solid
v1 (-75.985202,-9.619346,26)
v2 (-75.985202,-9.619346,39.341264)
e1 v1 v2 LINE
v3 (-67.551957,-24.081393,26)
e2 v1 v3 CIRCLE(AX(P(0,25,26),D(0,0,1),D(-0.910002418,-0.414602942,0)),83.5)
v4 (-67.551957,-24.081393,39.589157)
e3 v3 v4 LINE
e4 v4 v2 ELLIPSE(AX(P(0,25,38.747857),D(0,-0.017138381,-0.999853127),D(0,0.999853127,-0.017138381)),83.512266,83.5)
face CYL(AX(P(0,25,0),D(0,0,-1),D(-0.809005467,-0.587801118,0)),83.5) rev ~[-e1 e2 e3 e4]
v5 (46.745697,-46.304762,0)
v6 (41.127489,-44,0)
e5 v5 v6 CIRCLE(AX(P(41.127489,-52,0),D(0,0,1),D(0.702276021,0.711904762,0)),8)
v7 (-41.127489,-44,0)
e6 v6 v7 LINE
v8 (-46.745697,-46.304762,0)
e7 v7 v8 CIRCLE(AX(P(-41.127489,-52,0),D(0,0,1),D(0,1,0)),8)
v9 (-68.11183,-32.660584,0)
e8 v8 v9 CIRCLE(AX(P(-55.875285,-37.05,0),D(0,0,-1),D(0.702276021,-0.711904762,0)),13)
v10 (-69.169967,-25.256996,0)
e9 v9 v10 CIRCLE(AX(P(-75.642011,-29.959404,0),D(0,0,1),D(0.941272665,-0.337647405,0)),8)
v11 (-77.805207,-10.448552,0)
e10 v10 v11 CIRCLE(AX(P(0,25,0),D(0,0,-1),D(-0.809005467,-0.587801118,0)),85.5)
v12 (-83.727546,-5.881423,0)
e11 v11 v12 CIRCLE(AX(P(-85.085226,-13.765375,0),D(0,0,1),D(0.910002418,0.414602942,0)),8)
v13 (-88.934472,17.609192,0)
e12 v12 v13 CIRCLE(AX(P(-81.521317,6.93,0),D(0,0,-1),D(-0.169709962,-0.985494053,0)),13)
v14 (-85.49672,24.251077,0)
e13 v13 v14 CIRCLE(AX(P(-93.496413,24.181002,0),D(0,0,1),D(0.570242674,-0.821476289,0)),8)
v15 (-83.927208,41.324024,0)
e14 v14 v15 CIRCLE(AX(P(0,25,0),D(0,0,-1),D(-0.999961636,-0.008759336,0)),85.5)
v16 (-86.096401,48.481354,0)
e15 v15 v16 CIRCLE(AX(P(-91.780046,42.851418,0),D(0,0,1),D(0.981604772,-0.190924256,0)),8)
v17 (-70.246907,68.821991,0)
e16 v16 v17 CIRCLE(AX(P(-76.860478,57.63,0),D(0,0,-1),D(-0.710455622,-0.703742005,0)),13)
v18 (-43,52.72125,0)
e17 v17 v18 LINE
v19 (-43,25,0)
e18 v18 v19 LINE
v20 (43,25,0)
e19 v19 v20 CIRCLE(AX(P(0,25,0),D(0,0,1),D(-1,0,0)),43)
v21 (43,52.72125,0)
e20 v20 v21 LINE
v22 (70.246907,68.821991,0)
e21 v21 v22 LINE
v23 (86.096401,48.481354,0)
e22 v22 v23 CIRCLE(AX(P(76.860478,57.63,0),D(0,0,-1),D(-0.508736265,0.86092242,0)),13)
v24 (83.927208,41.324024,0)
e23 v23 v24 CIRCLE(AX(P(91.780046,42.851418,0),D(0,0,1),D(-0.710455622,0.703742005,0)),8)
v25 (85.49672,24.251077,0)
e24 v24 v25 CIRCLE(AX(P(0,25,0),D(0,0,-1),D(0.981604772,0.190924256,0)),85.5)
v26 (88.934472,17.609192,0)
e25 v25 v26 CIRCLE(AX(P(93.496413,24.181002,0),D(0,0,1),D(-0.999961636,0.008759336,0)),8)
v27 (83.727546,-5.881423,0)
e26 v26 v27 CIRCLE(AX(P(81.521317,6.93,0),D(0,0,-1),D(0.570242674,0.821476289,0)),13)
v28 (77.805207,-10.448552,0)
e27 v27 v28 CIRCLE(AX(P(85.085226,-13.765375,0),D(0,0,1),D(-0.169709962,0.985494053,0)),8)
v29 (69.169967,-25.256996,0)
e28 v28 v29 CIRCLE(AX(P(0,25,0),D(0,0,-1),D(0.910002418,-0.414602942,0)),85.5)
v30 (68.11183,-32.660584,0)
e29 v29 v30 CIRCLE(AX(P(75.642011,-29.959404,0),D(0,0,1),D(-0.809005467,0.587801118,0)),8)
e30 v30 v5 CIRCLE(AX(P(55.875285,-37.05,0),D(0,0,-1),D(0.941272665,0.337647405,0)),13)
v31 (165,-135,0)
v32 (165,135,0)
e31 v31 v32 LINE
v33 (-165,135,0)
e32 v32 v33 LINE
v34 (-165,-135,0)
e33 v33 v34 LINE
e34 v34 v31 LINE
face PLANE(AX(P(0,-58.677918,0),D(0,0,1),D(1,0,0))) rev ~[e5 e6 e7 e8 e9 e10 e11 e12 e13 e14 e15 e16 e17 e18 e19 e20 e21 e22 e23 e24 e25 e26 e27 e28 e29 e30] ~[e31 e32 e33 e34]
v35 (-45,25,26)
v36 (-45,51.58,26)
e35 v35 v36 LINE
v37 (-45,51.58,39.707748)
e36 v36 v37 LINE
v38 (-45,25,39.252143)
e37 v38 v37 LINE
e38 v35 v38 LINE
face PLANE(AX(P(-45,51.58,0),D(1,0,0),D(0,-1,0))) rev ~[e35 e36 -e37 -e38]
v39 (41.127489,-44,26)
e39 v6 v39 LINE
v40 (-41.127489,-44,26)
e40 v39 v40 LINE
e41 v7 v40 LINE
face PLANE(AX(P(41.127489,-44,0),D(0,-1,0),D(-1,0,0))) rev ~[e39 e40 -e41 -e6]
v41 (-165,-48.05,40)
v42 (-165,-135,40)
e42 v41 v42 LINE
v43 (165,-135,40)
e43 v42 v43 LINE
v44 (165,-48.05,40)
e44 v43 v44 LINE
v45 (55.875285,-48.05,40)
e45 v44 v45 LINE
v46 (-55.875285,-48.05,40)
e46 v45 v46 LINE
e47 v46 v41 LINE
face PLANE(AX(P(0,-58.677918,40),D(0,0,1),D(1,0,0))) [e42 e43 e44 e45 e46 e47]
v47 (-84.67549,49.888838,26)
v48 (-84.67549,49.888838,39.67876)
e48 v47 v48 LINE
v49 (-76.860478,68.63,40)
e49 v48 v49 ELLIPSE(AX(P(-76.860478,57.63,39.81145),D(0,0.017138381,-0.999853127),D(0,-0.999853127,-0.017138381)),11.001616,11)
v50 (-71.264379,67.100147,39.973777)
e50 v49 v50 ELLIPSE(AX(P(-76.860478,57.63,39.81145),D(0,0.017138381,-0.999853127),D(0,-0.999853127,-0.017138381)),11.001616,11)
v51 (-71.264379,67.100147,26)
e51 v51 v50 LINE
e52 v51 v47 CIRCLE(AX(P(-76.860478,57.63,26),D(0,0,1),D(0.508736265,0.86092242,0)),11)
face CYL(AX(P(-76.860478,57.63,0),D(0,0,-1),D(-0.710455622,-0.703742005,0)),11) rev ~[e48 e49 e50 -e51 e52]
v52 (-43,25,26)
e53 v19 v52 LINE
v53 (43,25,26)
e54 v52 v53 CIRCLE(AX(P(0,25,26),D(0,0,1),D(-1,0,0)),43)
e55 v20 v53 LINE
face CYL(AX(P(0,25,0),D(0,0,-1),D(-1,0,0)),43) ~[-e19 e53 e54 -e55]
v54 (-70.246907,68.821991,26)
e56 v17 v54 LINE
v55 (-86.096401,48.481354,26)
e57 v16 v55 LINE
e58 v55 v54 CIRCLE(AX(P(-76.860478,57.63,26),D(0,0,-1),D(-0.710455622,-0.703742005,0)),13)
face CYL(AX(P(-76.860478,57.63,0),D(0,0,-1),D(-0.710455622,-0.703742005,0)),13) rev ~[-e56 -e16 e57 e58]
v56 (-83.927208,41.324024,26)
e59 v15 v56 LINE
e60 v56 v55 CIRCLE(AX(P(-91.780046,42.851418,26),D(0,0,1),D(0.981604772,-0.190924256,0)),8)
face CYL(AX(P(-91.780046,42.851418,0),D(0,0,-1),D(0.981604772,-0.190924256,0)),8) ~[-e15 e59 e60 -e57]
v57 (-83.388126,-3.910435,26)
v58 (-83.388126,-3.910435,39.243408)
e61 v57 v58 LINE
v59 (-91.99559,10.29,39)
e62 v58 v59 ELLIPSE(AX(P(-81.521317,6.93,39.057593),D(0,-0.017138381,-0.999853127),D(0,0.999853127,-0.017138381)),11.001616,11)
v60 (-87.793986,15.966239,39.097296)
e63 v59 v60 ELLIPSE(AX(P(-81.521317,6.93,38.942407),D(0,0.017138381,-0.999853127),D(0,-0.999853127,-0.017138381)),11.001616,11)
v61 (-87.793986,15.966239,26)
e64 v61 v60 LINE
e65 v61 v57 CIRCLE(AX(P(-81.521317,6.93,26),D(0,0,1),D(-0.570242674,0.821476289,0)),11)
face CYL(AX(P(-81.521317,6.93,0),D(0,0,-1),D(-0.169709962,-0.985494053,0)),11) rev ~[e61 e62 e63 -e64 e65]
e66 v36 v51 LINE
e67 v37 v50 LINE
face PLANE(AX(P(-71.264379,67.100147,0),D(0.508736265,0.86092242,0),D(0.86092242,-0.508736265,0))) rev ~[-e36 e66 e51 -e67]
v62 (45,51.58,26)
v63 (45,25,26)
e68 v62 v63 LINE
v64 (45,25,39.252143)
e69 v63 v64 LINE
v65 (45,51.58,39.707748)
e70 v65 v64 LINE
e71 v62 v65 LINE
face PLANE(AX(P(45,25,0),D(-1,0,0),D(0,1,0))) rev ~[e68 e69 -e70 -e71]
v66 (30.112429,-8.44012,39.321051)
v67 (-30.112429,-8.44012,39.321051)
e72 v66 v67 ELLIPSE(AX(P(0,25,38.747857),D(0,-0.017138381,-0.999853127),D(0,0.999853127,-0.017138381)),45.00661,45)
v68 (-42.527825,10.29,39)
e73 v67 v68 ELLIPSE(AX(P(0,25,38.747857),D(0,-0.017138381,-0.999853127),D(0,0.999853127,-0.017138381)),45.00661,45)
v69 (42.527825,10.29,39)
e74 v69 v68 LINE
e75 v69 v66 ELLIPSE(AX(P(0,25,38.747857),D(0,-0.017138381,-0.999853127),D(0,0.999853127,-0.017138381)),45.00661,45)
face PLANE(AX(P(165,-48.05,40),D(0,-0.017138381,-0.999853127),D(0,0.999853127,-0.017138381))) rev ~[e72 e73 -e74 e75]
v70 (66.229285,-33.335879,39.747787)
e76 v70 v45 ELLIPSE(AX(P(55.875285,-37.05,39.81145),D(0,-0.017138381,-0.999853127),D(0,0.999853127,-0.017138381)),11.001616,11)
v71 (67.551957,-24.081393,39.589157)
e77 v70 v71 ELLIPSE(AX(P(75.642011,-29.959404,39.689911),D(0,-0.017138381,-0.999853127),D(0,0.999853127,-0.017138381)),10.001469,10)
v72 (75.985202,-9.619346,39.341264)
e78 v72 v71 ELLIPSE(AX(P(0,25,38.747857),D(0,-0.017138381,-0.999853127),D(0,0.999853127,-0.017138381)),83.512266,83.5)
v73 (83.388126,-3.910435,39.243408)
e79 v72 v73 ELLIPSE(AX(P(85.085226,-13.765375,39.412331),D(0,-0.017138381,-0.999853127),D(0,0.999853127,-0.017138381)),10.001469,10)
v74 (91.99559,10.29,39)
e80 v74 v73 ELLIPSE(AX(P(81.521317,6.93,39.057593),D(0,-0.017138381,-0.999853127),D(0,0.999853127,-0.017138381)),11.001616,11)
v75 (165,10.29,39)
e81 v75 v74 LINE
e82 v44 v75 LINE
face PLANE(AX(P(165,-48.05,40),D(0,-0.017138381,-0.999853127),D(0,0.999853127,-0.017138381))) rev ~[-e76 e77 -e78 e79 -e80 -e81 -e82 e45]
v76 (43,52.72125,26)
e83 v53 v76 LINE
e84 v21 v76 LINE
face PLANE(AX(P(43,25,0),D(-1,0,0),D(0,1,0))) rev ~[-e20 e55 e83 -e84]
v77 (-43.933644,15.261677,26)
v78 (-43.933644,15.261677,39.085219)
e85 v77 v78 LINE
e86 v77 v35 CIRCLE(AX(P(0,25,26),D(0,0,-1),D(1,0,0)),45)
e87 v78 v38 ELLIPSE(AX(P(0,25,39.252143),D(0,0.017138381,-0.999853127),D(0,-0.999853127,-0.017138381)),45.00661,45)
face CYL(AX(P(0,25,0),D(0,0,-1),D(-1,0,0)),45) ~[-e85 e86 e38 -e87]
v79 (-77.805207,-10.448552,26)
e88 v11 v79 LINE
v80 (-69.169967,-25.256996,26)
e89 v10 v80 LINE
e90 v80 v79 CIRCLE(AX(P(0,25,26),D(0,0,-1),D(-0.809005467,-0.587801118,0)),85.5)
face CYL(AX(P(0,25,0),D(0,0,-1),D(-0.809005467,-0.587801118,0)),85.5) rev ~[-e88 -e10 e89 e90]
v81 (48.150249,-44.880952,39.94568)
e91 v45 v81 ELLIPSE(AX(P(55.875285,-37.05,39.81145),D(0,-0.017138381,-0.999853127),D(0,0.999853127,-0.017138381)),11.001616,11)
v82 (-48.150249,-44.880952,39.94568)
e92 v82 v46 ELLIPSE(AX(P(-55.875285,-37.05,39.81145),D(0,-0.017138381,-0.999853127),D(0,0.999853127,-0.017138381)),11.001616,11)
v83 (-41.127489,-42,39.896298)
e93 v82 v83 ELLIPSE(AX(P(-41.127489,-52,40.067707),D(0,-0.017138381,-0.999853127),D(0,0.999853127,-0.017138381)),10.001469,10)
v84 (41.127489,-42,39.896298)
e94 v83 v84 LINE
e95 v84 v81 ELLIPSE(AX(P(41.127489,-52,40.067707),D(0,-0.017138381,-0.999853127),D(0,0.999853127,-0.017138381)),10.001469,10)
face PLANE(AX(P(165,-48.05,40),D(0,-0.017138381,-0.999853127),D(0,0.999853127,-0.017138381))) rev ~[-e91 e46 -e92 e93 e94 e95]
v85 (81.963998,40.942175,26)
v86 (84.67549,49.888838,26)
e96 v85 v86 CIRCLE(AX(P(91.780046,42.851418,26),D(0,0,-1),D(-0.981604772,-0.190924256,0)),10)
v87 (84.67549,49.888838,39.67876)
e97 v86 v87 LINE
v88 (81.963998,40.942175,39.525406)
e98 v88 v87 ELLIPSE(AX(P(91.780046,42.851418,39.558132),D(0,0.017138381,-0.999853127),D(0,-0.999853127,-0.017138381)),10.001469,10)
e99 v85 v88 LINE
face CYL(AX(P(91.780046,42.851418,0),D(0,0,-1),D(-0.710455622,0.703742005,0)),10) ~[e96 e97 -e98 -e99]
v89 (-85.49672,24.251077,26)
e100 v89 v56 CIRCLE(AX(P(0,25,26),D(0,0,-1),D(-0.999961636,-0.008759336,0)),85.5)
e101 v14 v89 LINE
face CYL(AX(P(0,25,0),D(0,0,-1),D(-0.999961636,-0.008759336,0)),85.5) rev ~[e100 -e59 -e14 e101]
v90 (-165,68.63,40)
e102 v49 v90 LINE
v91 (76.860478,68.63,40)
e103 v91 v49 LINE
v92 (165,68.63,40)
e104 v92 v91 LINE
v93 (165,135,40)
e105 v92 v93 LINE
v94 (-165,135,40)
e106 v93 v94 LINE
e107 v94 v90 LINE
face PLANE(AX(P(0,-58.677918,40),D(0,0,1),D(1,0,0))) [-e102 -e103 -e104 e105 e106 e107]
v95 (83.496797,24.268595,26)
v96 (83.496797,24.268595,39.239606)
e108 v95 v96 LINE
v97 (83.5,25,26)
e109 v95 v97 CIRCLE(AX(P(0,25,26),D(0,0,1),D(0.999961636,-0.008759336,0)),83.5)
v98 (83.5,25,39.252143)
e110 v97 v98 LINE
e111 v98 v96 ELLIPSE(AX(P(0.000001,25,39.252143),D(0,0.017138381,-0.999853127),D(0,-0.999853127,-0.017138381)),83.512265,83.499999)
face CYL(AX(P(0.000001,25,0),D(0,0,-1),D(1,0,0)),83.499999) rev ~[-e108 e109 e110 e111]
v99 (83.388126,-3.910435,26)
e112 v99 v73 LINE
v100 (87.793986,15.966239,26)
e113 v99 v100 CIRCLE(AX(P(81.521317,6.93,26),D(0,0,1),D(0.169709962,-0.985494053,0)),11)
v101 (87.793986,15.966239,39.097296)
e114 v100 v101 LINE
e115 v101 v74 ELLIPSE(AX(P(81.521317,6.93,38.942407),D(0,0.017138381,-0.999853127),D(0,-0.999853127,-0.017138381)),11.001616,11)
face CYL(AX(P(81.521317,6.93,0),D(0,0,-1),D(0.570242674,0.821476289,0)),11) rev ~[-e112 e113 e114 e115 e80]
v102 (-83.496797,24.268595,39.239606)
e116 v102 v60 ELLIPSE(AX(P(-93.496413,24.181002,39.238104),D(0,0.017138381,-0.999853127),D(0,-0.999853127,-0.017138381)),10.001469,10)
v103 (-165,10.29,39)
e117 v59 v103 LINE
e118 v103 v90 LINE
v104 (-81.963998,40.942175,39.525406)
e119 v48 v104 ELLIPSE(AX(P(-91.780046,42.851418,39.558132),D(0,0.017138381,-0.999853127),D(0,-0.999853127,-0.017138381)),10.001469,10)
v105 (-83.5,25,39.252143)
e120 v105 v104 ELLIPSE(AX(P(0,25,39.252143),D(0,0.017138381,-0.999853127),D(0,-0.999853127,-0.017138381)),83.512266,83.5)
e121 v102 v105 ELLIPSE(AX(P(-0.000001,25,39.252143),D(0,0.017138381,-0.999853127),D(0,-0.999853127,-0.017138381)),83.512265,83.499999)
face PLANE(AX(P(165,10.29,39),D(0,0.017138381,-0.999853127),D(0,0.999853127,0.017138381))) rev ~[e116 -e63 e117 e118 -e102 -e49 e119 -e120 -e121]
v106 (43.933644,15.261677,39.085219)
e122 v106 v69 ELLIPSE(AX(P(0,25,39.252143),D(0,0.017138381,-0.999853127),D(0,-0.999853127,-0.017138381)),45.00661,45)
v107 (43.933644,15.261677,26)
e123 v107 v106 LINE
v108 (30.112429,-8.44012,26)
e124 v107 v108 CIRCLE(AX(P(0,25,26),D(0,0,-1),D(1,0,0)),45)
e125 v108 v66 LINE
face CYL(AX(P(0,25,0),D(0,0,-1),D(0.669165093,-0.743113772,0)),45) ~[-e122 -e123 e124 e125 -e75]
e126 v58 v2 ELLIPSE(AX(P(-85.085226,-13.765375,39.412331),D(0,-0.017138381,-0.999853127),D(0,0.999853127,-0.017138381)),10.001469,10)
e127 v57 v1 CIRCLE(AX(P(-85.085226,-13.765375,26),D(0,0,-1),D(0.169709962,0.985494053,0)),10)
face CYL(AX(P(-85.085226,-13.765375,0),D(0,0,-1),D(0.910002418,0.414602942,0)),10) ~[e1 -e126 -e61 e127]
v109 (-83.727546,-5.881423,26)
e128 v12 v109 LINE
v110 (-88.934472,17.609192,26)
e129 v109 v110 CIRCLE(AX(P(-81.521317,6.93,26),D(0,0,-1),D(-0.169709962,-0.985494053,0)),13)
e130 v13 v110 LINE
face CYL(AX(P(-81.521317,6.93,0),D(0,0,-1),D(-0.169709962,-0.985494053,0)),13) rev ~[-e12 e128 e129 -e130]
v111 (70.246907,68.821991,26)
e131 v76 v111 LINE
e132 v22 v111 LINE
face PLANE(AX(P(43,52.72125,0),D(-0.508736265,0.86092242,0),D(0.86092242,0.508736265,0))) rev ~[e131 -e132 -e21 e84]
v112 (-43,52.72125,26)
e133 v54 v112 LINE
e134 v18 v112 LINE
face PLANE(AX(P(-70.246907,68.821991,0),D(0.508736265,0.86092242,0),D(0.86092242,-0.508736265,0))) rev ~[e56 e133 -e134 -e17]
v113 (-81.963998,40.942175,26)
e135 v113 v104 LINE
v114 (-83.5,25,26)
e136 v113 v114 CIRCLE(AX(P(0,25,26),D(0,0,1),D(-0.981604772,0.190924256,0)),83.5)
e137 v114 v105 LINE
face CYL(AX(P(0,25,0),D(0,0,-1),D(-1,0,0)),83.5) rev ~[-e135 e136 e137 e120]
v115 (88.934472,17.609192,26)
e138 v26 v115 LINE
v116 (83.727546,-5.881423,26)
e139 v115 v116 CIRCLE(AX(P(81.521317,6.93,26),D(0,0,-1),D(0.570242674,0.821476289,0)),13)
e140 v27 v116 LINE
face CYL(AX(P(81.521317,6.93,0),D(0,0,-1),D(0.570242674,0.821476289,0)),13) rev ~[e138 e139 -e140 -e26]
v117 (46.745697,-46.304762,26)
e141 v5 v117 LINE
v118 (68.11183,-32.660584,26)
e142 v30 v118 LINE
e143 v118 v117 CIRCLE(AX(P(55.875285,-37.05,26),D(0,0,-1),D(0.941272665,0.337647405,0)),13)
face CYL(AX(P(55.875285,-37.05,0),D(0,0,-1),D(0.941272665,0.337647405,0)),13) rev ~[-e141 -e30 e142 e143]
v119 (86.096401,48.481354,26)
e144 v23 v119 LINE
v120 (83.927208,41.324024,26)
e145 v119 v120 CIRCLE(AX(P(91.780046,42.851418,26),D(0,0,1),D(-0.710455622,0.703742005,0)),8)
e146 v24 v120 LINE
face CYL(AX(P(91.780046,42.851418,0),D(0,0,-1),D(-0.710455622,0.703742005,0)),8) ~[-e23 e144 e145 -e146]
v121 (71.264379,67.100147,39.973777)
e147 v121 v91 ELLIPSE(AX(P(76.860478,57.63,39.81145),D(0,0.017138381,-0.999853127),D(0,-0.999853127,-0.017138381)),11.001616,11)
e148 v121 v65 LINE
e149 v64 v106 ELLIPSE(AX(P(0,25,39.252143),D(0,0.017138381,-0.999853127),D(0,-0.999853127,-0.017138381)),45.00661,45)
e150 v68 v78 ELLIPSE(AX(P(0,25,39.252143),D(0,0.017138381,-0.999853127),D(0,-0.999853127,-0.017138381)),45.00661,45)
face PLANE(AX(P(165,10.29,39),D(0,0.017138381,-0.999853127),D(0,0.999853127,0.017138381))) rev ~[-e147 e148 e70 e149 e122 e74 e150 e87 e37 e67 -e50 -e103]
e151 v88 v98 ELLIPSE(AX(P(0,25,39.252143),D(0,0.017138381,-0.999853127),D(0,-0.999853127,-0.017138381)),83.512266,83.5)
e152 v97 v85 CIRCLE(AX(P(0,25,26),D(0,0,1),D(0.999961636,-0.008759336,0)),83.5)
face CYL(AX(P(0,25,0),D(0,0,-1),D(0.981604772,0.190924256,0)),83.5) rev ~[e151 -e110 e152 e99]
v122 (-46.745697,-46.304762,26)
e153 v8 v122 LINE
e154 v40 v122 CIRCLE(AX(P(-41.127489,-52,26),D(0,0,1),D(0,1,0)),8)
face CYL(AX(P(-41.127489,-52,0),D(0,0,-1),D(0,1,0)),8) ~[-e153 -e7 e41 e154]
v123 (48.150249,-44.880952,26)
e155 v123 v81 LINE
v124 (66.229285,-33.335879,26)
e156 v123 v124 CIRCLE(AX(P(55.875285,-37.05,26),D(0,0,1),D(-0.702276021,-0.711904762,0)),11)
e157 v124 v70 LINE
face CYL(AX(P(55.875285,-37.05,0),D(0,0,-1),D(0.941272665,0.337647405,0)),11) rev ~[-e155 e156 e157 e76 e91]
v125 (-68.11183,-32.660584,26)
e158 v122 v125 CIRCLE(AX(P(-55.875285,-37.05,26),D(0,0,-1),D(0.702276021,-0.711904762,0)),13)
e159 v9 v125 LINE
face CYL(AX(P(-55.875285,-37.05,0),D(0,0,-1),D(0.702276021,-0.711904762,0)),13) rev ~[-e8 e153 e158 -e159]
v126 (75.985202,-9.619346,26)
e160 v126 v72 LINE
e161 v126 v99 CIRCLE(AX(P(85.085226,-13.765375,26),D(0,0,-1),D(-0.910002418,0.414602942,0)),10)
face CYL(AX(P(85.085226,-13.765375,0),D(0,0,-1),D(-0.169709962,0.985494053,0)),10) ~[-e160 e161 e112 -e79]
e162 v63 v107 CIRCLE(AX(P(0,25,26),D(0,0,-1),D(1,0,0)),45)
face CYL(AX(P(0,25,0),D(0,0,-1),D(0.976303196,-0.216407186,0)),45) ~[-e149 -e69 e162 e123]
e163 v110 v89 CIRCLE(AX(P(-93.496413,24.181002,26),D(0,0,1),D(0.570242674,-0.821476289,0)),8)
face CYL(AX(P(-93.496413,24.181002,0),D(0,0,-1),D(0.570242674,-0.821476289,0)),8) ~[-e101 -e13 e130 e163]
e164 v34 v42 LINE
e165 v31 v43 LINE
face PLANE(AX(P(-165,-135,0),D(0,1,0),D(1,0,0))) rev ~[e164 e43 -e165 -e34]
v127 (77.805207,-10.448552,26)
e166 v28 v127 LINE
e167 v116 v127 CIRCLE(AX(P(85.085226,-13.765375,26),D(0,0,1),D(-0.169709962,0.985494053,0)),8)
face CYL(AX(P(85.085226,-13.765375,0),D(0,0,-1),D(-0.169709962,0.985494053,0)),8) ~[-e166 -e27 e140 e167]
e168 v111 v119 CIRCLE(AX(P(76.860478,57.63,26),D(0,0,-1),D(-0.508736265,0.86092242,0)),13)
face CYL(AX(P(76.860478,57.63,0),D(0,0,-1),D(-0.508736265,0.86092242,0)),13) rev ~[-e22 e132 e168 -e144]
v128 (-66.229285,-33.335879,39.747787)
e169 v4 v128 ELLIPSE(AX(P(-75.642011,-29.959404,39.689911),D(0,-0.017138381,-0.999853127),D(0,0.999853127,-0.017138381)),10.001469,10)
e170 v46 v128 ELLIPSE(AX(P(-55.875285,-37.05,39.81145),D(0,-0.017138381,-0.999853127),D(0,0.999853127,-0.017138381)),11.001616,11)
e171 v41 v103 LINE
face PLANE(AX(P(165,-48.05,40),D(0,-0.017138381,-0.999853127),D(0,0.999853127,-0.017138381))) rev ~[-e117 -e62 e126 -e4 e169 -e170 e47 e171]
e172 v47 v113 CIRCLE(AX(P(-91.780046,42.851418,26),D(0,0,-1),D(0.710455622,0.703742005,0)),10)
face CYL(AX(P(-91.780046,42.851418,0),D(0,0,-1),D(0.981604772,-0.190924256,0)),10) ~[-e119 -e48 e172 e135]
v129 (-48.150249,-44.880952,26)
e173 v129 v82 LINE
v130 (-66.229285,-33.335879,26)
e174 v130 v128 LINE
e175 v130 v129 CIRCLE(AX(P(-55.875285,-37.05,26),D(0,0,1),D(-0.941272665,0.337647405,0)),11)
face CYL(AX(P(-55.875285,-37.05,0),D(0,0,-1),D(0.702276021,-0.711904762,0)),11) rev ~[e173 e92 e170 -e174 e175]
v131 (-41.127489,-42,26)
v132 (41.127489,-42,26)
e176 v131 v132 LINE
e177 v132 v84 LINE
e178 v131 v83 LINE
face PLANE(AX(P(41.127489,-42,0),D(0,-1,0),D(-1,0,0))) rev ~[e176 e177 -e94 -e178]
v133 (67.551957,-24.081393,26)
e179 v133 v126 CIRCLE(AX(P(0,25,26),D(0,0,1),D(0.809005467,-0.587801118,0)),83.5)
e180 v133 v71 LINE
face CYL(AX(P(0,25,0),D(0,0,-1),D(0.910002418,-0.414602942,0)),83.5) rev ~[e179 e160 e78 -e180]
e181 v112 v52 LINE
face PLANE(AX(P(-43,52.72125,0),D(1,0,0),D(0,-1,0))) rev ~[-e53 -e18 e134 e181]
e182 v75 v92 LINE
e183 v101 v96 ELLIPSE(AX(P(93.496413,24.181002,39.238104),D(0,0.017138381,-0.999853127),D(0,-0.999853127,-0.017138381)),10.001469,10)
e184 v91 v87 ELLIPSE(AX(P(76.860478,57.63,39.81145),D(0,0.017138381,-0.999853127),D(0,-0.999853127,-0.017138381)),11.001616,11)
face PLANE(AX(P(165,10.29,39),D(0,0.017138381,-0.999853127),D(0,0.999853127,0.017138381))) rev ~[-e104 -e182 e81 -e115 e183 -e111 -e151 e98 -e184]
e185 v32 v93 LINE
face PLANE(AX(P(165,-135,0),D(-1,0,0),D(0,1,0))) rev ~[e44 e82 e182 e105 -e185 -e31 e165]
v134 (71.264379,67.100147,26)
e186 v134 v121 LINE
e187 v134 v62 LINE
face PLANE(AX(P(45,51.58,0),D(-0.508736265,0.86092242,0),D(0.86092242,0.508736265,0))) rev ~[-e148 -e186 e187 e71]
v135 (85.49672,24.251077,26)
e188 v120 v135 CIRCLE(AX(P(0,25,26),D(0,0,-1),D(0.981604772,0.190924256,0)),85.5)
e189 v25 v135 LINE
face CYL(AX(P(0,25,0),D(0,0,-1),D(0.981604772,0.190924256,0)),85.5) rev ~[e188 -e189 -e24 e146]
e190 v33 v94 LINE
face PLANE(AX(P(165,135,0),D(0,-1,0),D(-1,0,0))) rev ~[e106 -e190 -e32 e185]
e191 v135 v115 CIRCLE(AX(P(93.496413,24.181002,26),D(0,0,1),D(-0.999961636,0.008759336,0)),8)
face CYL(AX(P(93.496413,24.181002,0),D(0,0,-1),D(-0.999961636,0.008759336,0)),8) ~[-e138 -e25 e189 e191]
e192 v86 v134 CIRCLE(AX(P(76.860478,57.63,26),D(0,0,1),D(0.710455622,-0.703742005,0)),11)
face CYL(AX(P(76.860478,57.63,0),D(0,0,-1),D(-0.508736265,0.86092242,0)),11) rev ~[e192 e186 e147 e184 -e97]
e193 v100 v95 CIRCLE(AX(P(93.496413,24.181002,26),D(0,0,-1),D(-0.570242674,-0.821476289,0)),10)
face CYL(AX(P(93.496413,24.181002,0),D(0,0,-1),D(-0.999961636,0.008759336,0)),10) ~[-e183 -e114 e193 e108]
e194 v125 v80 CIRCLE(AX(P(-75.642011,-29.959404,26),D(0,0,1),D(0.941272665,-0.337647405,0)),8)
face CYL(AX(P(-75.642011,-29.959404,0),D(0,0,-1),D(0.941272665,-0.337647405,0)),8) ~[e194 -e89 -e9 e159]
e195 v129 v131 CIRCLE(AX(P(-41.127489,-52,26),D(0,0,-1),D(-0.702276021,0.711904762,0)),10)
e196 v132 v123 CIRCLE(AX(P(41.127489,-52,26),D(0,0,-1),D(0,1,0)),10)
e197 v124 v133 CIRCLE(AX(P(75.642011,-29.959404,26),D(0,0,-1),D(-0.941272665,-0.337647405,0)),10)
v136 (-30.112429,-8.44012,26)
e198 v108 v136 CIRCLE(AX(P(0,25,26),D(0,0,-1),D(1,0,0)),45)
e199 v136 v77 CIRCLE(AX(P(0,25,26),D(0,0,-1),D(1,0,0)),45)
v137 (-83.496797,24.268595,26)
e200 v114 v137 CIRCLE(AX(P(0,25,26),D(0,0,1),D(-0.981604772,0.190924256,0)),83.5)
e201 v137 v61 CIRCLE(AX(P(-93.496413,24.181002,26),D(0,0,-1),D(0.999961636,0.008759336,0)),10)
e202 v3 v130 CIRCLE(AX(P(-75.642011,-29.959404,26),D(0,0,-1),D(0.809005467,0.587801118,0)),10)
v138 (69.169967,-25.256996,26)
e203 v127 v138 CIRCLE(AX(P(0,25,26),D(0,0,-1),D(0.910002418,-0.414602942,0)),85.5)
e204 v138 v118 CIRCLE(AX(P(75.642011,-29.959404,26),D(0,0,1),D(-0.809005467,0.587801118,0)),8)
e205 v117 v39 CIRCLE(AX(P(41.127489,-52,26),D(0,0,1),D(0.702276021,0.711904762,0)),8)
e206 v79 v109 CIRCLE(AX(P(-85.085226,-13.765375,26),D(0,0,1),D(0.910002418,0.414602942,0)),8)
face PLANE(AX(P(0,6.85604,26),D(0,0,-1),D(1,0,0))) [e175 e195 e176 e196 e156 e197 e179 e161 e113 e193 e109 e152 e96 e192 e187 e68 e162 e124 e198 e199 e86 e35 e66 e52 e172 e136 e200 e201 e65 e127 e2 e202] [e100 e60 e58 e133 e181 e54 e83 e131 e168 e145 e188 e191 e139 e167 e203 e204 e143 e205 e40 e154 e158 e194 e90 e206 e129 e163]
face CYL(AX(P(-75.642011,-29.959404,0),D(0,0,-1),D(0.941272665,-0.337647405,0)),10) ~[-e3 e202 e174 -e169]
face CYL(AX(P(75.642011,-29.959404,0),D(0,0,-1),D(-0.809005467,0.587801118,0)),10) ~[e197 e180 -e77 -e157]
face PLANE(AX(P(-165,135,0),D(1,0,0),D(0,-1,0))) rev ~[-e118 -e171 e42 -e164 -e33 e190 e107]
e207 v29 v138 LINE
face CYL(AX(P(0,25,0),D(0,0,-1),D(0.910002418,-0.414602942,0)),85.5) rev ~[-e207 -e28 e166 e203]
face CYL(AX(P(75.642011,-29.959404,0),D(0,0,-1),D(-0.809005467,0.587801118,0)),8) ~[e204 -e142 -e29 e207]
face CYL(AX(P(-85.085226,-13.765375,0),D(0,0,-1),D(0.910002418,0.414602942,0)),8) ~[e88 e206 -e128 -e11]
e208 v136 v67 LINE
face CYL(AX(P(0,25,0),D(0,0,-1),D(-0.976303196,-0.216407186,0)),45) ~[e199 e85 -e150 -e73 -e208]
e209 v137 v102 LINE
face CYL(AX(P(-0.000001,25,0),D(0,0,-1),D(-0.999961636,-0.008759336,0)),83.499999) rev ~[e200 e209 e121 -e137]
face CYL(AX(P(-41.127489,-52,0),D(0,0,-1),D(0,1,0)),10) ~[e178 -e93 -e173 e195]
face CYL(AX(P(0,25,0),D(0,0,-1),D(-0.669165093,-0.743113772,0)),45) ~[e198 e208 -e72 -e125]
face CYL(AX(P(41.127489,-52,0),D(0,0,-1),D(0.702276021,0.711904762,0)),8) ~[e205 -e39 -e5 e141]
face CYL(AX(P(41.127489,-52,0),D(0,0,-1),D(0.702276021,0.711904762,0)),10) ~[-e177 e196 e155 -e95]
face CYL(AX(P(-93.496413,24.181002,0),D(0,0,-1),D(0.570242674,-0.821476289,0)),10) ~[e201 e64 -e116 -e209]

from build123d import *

# Parameters (mm, degrees)
F1_DEPTH = 40
F3_DEPTH = 26
F6_DEPTH = 376


with BuildPart() as f1:
    # F0 (on Top) → F1 (new body)
    with BuildSketch(Plane.XY):
        with BuildLine():
            Line((165, -135), (165, 25))
            Line((165, 25), (83.5, 25))
            ThreePointArc((83.5, 25), (83.4991991535, 24.6342942061), (83.4967966293, 24.2685954271))
            ThreePointArc((83.4967966293, 24.2685954271), (84.6154885355, 19.5843531992), (87.7939862549, 15.9662391769))
            ThreePointArc((87.7939862549, 15.9662391769), (92.2606519972, 4.5495209581), (83.3881264287, -3.9104345842))
            ThreePointArc((83.3881264287, -3.9104345842), (78.9784767448, -5.8465612578), (75.9852018745, -9.6193456912))
            ThreePointArc((75.9852018745, -9.6193456912), (72.1319392895, -17.0622554594), (67.5519565242, -24.0813933151))
            ThreePointArc((67.5519565242, -24.0813933151), (65.7426065331, -28.544559169), (66.2292845484, -33.3358785427))
            ThreePointArc((66.2292845484, -33.3358785427), (61.7955930136, -46.3209199003), (48.1502490008, -44.880952381))
            ThreePointArc((48.1502490008, -44.880952381), (44.922849365, -42.7482305425), (41.1274887886, -42))
            Line((41.1274887886, -42), (-41.1274887886, -42))
            ThreePointArc((-41.1274887886, -42), (-44.922849365, -42.7482305425), (-48.1502490008, -44.880952381))
            ThreePointArc((-48.1502490008, -44.880952381), (-61.7955930136, -46.3209199003), (-66.2292845484, -33.3358785427))
            ThreePointArc((-66.2292845484, -33.3358785427), (-65.7426065331, -28.544559169), (-67.5519565242, -24.0813933151))
            ThreePointArc((-67.5519565242, -24.0813933151), (-72.1319392895, -17.0622554594), (-75.9852018745, -9.6193456912))
            ThreePointArc((-75.9852018745, -9.6193456912), (-78.9784767448, -5.8465612578), (-83.3881264287, -3.9104345842))
            ThreePointArc((-83.3881264287, -3.9104345842), (-92.2606519972, 4.5495209581), (-87.7939862549, 15.9662391769))
            ThreePointArc((-87.7939862549, 15.9662391769), (-84.6154885355, 19.5843531992), (-83.4967966293, 24.2685954271))
            ThreePointArc((-83.4967966293, 24.2685954271), (-83.4991991535, 24.6342942061), (-83.5, 25))
            Line((-83.5, 25), (-165, 25))
            Line((-165, 25), (-165, -135))
            Line((-165, -135), (165, -135))
        make_face()
        with BuildLine():
            Line((165, 25), (165, 135))
            Line((165, 135), (-165, 135))
            Line((-165, 135), (-165, 25))
            Line((-165, 25), (-83.5, 25))
            ThreePointArc((-83.5, 25), (-83.1151125621, 33.0079999869), (-81.9639984721, 40.9421753368))
            ThreePointArc((-81.9639984721, 40.9421753368), (-82.2099154551, 45.7518657289), (-84.6754899777, 49.8888379435))
            ThreePointArc((-84.6754899777, 49.8888379435), (-85.5373543192, 64.3910516772), (-71.2643792291, 67.1001466184))
            Line((-71.2643792291, 67.1001466184), (-45, 51.58))
            Line((-45, 51.58), (-45, 44.1040966114))
            Line((-45, 44.1040966114), (-45, 25))
            Line((-45, 25), (0, 25))
            Line((0, 25), (45, 25))
            Line((45, 25), (45, 44.1040966114))
            Line((45, 44.1040966114), (45, 51.58))
            Line((45, 51.58), (71.2643792291, 67.1001466184))
            ThreePointArc((71.2643792291, 67.1001466184), (85.5373543192, 64.3910516772), (84.6754899777, 49.8888379435))
            ThreePointArc((84.6754899777, 49.8888379435), (82.2099154551, 45.7518657289), (81.9639984721, 40.9421753368))
            ThreePointArc((81.9639984721, 40.9421753368), (83.1151125621, 33.0079999869), (83.5, 25))
            Line((83.5, 25), (165, 25))
        make_face()
        with BuildLine():
            Line((0, 25), (-45, 25))
            ThreePointArc((-45, 25), (-44.7326165754, 20.1017335398), (-43.9336438082, 15.2616766467))
            Line((-43.9336438082, 15.2616766467), (0, 25))
        make_face()
        with BuildLine():
            Line((-30.1124291681, -8.4401197605), (0, 25))
            Line((0, 25), (-43.9336438082, 15.2616766467))
            ThreePointArc((-43.9336438082, 15.2616766467), (-38.8735002159, 2.3317186147), (-30.1124291681, -8.4401197605))
        make_face()
        with BuildLine():
            Line((30.1124291681, -8.4401197605), (0, 25))
            Line((0, 25), (-30.1124291681, -8.4401197605))
            ThreePointArc((-30.1124291681, -8.4401197605), (0, -20), (30.1124291681, -8.4401197605))
        make_face()
        with BuildLine():
            ThreePointArc((30.1124291681, -8.4401197605), (38.8735002159, 2.3317186147), (43.9336438082, 15.2616766467))
            Line((43.9336438082, 15.2616766467), (0, 25))
            Line((0, 25), (30.1124291681, -8.4401197605))
        make_face()
        with BuildLine():
            ThreePointArc((43.9336438082, 15.2616766467), (44.7326165754, 20.1017335398), (45, 25))
            Line((45, 25), (0, 25))
            Line((0, 25), (43.9336438082, 15.2616766467))
        make_face()
    extrude(amount=F1_DEPTH)

    # F2 (on face) → F3 (cut)
    with BuildSketch(Plane(origin=(0, 0, 0), x_dir=(1, 0, 0), z_dir=(0, 0, -1))):
        with BuildLine():
            Line((41.1274887886, 44), (-41.1274887886, 44))
            ThreePointArc((-41.1274887886, 44), (-44.1637772497, 44.598584434), (-46.7456969583, 46.3047619048))
            ThreePointArc((-46.7456969583, 46.3047619048), (-62.8720126099, 48.0065417003), (-68.1118298783, 32.6605837322))
            ThreePointArc((-68.1118298783, 32.6605837322), (-67.722487466, 28.8275282333), (-69.1699674589, 25.2569955502))
            ThreePointArc((-69.1699674589, 25.2569955502), (-73.8596504102, 18.0697346321), (-77.8052067098, 10.4485515761))
            ThreePointArc((-77.8052067098, 10.4485515761), (-80.1998266061, 7.4303240293), (-83.7275463532, 5.8814226904))
            ThreePointArc((-83.7275463532, 5.8814226904), (-94.2132583887, -4.1167065868), (-88.9344716024, -17.6091917545))
            ThreePointArc((-88.9344716024, -17.6091917545), (-86.3916734268, -20.5036829723), (-85.4967199018, -24.2510767547))
            ThreePointArc((-85.4967199018, -24.2510767547), (-85.1409902363, -32.8269905829), (-83.9272080163, -41.3240238478))
            ThreePointArc((-83.9272080163, -41.3240238478), (-84.1239416027, -45.1717761615), (-86.0964012208, -48.4813539332))
            ThreePointArc((-86.0964012208, -48.4813539332), (-87.1149681698, -65.6203338003), (-70.2469066998, -68.8219914581))
            Line((-70.2469066998, -68.8219914581), (-43, -52.7212497201))
            Line((-43, -52.7212497201), (-43, -25))
            ThreePointArc((-43, -25), (0, 18), (43, -25))
            Line((43, -25), (43, -52.7212497201))
            Line((43, -52.7212497201), (70.2469066998, -68.8219914581))
            ThreePointArc((70.2469066998, -68.8219914581), (87.1149681698, -65.6203338003), (86.0964012208, -48.4813539332))
            ThreePointArc((86.0964012208, -48.4813539332), (84.1239416027, -45.1717761615), (83.9272080163, -41.3240238478))
            ThreePointArc((83.9272080163, -41.3240238478), (85.1409902363, -32.8269905829), (85.4967199018, -24.2510767547))
            ThreePointArc((85.4967199018, -24.2510767547), (86.3916734268, -20.5036829723), (88.9344716024, -17.6091917545))
            ThreePointArc((88.9344716024, -17.6091917545), (94.2132583887, -4.1167065868), (83.7275463532, 5.8814226904))
            ThreePointArc((83.7275463532, 5.8814226904), (80.1998266061, 7.4303240293), (77.8052067098, 10.4485515761))
            ThreePointArc((77.8052067098, 10.4485515761), (73.8596504102, 18.0697346321), (69.1699674589, 25.2569955502))
            ThreePointArc((69.1699674589, 25.2569955502), (67.722487466, 28.8275282333), (68.1118298783, 32.6605837322))
            ThreePointArc((68.1118298783, 32.6605837322), (62.8720126099, 48.0065417003), (46.7456969583, 46.3047619048))
            ThreePointArc((46.7456969583, 46.3047619048), (44.1637772497, 44.598584434), (41.1274887886, 44))
        make_face()
        with BuildLine():
            Line((-45, -51.58), (-71.2643792291, -67.1001466184))
            ThreePointArc((-71.2643792291, -67.1001466184), (-85.5373543192, -64.3910516772), (-84.6754899777, -49.8888379435))
            ThreePointArc((-84.6754899777, -49.8888379435), (-82.2099154551, -45.7518657289), (-81.9639984721, -40.9421753368))
            ThreePointArc((-81.9639984721, -40.9421753368), (-83.1493881255, -32.6439030838), (-83.4967966293, -24.2685954271))
            ThreePointArc((-83.4967966293, -24.2685954271), (-84.6154885355, -19.5843531992), (-87.7939862549, -15.9662391769))
            ThreePointArc((-87.7939862549, -15.9662391769), (-92.2606519972, -4.5495209581), (-83.3881264287, 3.9104345842))
            ThreePointArc((-83.3881264287, 3.9104345842), (-78.9784767448, 5.8465612578), (-75.9852018745, 9.6193456912))
            ThreePointArc((-75.9852018745, 9.6193456912), (-72.1319392895, 17.0622554594), (-67.5519565242, 24.0813933151))
            ThreePointArc((-67.5519565242, 24.0813933151), (-65.7426065331, 28.544559169), (-66.2292845484, 33.3358785427))
            ThreePointArc((-66.2292845484, 33.3358785427), (-61.7955930136, 46.3209199003), (-48.1502490008, 44.880952381))
            ThreePointArc((-48.1502490008, 44.880952381), (-44.922849365, 42.7482305425), (-41.1274887886, 42))
            Line((-41.1274887886, 42), (41.1274887886, 42))
            ThreePointArc((41.1274887886, 42), (44.922849365, 42.7482305425), (48.1502490008, 44.880952381))
            ThreePointArc((48.1502490008, 44.880952381), (61.7955930136, 46.3209199003), (66.2292845484, 33.3358785427))
            ThreePointArc((66.2292845484, 33.3358785427), (65.7426065331, 28.544559169), (67.5519565242, 24.0813933151))
            ThreePointArc((67.5519565242, 24.0813933151), (72.1319392895, 17.0622554594), (75.9852018745, 9.6193456912))
            ThreePointArc((75.9852018745, 9.6193456912), (78.9784767448, 5.8465612578), (83.3881264287, 3.9104345842))
            ThreePointArc((83.3881264287, 3.9104345842), (92.2606519972, -4.5495209581), (87.7939862549, -15.9662391769))
            ThreePointArc((87.7939862549, -15.9662391769), (84.6154885355, -19.5843531992), (83.4967966293, -24.2685954271))
            ThreePointArc((83.4967966293, -24.2685954271), (83.1493881255, -32.6439030838), (81.9639984721, -40.9421753368))
            ThreePointArc((81.9639984721, -40.9421753368), (82.2099154551, -45.7518657289), (84.6754899777, -49.8888379435))
            ThreePointArc((84.6754899777, -49.8888379435), (85.5373543192, -64.3910516772), (71.2643792291, -67.1001466184))
            Line((71.2643792291, -67.1001466184), (45, -51.58))
            Line((45, -51.58), (45, -25))
            ThreePointArc((45, -25), (0, 20), (-45, -25))
            Line((-45, -25), (-45, -51.58))
        make_face(mode=Mode.SUBTRACT)
    extrude(amount=-F3_DEPTH, mode=Mode.SUBTRACT)

    # F5 (on face) → F6 (cut)
    with BuildSketch(Plane.YZ.offset(165)):
        Polygon((10.29, 40), (-48.05, 40), (10.29, 39), align=None)
        Polygon((68.63, 40), (10.29, 40), (10.29, 39), align=None)
    extrude(amount=-F6_DEPTH, mode=Mode.SUBTRACT)


solid = f1.part
